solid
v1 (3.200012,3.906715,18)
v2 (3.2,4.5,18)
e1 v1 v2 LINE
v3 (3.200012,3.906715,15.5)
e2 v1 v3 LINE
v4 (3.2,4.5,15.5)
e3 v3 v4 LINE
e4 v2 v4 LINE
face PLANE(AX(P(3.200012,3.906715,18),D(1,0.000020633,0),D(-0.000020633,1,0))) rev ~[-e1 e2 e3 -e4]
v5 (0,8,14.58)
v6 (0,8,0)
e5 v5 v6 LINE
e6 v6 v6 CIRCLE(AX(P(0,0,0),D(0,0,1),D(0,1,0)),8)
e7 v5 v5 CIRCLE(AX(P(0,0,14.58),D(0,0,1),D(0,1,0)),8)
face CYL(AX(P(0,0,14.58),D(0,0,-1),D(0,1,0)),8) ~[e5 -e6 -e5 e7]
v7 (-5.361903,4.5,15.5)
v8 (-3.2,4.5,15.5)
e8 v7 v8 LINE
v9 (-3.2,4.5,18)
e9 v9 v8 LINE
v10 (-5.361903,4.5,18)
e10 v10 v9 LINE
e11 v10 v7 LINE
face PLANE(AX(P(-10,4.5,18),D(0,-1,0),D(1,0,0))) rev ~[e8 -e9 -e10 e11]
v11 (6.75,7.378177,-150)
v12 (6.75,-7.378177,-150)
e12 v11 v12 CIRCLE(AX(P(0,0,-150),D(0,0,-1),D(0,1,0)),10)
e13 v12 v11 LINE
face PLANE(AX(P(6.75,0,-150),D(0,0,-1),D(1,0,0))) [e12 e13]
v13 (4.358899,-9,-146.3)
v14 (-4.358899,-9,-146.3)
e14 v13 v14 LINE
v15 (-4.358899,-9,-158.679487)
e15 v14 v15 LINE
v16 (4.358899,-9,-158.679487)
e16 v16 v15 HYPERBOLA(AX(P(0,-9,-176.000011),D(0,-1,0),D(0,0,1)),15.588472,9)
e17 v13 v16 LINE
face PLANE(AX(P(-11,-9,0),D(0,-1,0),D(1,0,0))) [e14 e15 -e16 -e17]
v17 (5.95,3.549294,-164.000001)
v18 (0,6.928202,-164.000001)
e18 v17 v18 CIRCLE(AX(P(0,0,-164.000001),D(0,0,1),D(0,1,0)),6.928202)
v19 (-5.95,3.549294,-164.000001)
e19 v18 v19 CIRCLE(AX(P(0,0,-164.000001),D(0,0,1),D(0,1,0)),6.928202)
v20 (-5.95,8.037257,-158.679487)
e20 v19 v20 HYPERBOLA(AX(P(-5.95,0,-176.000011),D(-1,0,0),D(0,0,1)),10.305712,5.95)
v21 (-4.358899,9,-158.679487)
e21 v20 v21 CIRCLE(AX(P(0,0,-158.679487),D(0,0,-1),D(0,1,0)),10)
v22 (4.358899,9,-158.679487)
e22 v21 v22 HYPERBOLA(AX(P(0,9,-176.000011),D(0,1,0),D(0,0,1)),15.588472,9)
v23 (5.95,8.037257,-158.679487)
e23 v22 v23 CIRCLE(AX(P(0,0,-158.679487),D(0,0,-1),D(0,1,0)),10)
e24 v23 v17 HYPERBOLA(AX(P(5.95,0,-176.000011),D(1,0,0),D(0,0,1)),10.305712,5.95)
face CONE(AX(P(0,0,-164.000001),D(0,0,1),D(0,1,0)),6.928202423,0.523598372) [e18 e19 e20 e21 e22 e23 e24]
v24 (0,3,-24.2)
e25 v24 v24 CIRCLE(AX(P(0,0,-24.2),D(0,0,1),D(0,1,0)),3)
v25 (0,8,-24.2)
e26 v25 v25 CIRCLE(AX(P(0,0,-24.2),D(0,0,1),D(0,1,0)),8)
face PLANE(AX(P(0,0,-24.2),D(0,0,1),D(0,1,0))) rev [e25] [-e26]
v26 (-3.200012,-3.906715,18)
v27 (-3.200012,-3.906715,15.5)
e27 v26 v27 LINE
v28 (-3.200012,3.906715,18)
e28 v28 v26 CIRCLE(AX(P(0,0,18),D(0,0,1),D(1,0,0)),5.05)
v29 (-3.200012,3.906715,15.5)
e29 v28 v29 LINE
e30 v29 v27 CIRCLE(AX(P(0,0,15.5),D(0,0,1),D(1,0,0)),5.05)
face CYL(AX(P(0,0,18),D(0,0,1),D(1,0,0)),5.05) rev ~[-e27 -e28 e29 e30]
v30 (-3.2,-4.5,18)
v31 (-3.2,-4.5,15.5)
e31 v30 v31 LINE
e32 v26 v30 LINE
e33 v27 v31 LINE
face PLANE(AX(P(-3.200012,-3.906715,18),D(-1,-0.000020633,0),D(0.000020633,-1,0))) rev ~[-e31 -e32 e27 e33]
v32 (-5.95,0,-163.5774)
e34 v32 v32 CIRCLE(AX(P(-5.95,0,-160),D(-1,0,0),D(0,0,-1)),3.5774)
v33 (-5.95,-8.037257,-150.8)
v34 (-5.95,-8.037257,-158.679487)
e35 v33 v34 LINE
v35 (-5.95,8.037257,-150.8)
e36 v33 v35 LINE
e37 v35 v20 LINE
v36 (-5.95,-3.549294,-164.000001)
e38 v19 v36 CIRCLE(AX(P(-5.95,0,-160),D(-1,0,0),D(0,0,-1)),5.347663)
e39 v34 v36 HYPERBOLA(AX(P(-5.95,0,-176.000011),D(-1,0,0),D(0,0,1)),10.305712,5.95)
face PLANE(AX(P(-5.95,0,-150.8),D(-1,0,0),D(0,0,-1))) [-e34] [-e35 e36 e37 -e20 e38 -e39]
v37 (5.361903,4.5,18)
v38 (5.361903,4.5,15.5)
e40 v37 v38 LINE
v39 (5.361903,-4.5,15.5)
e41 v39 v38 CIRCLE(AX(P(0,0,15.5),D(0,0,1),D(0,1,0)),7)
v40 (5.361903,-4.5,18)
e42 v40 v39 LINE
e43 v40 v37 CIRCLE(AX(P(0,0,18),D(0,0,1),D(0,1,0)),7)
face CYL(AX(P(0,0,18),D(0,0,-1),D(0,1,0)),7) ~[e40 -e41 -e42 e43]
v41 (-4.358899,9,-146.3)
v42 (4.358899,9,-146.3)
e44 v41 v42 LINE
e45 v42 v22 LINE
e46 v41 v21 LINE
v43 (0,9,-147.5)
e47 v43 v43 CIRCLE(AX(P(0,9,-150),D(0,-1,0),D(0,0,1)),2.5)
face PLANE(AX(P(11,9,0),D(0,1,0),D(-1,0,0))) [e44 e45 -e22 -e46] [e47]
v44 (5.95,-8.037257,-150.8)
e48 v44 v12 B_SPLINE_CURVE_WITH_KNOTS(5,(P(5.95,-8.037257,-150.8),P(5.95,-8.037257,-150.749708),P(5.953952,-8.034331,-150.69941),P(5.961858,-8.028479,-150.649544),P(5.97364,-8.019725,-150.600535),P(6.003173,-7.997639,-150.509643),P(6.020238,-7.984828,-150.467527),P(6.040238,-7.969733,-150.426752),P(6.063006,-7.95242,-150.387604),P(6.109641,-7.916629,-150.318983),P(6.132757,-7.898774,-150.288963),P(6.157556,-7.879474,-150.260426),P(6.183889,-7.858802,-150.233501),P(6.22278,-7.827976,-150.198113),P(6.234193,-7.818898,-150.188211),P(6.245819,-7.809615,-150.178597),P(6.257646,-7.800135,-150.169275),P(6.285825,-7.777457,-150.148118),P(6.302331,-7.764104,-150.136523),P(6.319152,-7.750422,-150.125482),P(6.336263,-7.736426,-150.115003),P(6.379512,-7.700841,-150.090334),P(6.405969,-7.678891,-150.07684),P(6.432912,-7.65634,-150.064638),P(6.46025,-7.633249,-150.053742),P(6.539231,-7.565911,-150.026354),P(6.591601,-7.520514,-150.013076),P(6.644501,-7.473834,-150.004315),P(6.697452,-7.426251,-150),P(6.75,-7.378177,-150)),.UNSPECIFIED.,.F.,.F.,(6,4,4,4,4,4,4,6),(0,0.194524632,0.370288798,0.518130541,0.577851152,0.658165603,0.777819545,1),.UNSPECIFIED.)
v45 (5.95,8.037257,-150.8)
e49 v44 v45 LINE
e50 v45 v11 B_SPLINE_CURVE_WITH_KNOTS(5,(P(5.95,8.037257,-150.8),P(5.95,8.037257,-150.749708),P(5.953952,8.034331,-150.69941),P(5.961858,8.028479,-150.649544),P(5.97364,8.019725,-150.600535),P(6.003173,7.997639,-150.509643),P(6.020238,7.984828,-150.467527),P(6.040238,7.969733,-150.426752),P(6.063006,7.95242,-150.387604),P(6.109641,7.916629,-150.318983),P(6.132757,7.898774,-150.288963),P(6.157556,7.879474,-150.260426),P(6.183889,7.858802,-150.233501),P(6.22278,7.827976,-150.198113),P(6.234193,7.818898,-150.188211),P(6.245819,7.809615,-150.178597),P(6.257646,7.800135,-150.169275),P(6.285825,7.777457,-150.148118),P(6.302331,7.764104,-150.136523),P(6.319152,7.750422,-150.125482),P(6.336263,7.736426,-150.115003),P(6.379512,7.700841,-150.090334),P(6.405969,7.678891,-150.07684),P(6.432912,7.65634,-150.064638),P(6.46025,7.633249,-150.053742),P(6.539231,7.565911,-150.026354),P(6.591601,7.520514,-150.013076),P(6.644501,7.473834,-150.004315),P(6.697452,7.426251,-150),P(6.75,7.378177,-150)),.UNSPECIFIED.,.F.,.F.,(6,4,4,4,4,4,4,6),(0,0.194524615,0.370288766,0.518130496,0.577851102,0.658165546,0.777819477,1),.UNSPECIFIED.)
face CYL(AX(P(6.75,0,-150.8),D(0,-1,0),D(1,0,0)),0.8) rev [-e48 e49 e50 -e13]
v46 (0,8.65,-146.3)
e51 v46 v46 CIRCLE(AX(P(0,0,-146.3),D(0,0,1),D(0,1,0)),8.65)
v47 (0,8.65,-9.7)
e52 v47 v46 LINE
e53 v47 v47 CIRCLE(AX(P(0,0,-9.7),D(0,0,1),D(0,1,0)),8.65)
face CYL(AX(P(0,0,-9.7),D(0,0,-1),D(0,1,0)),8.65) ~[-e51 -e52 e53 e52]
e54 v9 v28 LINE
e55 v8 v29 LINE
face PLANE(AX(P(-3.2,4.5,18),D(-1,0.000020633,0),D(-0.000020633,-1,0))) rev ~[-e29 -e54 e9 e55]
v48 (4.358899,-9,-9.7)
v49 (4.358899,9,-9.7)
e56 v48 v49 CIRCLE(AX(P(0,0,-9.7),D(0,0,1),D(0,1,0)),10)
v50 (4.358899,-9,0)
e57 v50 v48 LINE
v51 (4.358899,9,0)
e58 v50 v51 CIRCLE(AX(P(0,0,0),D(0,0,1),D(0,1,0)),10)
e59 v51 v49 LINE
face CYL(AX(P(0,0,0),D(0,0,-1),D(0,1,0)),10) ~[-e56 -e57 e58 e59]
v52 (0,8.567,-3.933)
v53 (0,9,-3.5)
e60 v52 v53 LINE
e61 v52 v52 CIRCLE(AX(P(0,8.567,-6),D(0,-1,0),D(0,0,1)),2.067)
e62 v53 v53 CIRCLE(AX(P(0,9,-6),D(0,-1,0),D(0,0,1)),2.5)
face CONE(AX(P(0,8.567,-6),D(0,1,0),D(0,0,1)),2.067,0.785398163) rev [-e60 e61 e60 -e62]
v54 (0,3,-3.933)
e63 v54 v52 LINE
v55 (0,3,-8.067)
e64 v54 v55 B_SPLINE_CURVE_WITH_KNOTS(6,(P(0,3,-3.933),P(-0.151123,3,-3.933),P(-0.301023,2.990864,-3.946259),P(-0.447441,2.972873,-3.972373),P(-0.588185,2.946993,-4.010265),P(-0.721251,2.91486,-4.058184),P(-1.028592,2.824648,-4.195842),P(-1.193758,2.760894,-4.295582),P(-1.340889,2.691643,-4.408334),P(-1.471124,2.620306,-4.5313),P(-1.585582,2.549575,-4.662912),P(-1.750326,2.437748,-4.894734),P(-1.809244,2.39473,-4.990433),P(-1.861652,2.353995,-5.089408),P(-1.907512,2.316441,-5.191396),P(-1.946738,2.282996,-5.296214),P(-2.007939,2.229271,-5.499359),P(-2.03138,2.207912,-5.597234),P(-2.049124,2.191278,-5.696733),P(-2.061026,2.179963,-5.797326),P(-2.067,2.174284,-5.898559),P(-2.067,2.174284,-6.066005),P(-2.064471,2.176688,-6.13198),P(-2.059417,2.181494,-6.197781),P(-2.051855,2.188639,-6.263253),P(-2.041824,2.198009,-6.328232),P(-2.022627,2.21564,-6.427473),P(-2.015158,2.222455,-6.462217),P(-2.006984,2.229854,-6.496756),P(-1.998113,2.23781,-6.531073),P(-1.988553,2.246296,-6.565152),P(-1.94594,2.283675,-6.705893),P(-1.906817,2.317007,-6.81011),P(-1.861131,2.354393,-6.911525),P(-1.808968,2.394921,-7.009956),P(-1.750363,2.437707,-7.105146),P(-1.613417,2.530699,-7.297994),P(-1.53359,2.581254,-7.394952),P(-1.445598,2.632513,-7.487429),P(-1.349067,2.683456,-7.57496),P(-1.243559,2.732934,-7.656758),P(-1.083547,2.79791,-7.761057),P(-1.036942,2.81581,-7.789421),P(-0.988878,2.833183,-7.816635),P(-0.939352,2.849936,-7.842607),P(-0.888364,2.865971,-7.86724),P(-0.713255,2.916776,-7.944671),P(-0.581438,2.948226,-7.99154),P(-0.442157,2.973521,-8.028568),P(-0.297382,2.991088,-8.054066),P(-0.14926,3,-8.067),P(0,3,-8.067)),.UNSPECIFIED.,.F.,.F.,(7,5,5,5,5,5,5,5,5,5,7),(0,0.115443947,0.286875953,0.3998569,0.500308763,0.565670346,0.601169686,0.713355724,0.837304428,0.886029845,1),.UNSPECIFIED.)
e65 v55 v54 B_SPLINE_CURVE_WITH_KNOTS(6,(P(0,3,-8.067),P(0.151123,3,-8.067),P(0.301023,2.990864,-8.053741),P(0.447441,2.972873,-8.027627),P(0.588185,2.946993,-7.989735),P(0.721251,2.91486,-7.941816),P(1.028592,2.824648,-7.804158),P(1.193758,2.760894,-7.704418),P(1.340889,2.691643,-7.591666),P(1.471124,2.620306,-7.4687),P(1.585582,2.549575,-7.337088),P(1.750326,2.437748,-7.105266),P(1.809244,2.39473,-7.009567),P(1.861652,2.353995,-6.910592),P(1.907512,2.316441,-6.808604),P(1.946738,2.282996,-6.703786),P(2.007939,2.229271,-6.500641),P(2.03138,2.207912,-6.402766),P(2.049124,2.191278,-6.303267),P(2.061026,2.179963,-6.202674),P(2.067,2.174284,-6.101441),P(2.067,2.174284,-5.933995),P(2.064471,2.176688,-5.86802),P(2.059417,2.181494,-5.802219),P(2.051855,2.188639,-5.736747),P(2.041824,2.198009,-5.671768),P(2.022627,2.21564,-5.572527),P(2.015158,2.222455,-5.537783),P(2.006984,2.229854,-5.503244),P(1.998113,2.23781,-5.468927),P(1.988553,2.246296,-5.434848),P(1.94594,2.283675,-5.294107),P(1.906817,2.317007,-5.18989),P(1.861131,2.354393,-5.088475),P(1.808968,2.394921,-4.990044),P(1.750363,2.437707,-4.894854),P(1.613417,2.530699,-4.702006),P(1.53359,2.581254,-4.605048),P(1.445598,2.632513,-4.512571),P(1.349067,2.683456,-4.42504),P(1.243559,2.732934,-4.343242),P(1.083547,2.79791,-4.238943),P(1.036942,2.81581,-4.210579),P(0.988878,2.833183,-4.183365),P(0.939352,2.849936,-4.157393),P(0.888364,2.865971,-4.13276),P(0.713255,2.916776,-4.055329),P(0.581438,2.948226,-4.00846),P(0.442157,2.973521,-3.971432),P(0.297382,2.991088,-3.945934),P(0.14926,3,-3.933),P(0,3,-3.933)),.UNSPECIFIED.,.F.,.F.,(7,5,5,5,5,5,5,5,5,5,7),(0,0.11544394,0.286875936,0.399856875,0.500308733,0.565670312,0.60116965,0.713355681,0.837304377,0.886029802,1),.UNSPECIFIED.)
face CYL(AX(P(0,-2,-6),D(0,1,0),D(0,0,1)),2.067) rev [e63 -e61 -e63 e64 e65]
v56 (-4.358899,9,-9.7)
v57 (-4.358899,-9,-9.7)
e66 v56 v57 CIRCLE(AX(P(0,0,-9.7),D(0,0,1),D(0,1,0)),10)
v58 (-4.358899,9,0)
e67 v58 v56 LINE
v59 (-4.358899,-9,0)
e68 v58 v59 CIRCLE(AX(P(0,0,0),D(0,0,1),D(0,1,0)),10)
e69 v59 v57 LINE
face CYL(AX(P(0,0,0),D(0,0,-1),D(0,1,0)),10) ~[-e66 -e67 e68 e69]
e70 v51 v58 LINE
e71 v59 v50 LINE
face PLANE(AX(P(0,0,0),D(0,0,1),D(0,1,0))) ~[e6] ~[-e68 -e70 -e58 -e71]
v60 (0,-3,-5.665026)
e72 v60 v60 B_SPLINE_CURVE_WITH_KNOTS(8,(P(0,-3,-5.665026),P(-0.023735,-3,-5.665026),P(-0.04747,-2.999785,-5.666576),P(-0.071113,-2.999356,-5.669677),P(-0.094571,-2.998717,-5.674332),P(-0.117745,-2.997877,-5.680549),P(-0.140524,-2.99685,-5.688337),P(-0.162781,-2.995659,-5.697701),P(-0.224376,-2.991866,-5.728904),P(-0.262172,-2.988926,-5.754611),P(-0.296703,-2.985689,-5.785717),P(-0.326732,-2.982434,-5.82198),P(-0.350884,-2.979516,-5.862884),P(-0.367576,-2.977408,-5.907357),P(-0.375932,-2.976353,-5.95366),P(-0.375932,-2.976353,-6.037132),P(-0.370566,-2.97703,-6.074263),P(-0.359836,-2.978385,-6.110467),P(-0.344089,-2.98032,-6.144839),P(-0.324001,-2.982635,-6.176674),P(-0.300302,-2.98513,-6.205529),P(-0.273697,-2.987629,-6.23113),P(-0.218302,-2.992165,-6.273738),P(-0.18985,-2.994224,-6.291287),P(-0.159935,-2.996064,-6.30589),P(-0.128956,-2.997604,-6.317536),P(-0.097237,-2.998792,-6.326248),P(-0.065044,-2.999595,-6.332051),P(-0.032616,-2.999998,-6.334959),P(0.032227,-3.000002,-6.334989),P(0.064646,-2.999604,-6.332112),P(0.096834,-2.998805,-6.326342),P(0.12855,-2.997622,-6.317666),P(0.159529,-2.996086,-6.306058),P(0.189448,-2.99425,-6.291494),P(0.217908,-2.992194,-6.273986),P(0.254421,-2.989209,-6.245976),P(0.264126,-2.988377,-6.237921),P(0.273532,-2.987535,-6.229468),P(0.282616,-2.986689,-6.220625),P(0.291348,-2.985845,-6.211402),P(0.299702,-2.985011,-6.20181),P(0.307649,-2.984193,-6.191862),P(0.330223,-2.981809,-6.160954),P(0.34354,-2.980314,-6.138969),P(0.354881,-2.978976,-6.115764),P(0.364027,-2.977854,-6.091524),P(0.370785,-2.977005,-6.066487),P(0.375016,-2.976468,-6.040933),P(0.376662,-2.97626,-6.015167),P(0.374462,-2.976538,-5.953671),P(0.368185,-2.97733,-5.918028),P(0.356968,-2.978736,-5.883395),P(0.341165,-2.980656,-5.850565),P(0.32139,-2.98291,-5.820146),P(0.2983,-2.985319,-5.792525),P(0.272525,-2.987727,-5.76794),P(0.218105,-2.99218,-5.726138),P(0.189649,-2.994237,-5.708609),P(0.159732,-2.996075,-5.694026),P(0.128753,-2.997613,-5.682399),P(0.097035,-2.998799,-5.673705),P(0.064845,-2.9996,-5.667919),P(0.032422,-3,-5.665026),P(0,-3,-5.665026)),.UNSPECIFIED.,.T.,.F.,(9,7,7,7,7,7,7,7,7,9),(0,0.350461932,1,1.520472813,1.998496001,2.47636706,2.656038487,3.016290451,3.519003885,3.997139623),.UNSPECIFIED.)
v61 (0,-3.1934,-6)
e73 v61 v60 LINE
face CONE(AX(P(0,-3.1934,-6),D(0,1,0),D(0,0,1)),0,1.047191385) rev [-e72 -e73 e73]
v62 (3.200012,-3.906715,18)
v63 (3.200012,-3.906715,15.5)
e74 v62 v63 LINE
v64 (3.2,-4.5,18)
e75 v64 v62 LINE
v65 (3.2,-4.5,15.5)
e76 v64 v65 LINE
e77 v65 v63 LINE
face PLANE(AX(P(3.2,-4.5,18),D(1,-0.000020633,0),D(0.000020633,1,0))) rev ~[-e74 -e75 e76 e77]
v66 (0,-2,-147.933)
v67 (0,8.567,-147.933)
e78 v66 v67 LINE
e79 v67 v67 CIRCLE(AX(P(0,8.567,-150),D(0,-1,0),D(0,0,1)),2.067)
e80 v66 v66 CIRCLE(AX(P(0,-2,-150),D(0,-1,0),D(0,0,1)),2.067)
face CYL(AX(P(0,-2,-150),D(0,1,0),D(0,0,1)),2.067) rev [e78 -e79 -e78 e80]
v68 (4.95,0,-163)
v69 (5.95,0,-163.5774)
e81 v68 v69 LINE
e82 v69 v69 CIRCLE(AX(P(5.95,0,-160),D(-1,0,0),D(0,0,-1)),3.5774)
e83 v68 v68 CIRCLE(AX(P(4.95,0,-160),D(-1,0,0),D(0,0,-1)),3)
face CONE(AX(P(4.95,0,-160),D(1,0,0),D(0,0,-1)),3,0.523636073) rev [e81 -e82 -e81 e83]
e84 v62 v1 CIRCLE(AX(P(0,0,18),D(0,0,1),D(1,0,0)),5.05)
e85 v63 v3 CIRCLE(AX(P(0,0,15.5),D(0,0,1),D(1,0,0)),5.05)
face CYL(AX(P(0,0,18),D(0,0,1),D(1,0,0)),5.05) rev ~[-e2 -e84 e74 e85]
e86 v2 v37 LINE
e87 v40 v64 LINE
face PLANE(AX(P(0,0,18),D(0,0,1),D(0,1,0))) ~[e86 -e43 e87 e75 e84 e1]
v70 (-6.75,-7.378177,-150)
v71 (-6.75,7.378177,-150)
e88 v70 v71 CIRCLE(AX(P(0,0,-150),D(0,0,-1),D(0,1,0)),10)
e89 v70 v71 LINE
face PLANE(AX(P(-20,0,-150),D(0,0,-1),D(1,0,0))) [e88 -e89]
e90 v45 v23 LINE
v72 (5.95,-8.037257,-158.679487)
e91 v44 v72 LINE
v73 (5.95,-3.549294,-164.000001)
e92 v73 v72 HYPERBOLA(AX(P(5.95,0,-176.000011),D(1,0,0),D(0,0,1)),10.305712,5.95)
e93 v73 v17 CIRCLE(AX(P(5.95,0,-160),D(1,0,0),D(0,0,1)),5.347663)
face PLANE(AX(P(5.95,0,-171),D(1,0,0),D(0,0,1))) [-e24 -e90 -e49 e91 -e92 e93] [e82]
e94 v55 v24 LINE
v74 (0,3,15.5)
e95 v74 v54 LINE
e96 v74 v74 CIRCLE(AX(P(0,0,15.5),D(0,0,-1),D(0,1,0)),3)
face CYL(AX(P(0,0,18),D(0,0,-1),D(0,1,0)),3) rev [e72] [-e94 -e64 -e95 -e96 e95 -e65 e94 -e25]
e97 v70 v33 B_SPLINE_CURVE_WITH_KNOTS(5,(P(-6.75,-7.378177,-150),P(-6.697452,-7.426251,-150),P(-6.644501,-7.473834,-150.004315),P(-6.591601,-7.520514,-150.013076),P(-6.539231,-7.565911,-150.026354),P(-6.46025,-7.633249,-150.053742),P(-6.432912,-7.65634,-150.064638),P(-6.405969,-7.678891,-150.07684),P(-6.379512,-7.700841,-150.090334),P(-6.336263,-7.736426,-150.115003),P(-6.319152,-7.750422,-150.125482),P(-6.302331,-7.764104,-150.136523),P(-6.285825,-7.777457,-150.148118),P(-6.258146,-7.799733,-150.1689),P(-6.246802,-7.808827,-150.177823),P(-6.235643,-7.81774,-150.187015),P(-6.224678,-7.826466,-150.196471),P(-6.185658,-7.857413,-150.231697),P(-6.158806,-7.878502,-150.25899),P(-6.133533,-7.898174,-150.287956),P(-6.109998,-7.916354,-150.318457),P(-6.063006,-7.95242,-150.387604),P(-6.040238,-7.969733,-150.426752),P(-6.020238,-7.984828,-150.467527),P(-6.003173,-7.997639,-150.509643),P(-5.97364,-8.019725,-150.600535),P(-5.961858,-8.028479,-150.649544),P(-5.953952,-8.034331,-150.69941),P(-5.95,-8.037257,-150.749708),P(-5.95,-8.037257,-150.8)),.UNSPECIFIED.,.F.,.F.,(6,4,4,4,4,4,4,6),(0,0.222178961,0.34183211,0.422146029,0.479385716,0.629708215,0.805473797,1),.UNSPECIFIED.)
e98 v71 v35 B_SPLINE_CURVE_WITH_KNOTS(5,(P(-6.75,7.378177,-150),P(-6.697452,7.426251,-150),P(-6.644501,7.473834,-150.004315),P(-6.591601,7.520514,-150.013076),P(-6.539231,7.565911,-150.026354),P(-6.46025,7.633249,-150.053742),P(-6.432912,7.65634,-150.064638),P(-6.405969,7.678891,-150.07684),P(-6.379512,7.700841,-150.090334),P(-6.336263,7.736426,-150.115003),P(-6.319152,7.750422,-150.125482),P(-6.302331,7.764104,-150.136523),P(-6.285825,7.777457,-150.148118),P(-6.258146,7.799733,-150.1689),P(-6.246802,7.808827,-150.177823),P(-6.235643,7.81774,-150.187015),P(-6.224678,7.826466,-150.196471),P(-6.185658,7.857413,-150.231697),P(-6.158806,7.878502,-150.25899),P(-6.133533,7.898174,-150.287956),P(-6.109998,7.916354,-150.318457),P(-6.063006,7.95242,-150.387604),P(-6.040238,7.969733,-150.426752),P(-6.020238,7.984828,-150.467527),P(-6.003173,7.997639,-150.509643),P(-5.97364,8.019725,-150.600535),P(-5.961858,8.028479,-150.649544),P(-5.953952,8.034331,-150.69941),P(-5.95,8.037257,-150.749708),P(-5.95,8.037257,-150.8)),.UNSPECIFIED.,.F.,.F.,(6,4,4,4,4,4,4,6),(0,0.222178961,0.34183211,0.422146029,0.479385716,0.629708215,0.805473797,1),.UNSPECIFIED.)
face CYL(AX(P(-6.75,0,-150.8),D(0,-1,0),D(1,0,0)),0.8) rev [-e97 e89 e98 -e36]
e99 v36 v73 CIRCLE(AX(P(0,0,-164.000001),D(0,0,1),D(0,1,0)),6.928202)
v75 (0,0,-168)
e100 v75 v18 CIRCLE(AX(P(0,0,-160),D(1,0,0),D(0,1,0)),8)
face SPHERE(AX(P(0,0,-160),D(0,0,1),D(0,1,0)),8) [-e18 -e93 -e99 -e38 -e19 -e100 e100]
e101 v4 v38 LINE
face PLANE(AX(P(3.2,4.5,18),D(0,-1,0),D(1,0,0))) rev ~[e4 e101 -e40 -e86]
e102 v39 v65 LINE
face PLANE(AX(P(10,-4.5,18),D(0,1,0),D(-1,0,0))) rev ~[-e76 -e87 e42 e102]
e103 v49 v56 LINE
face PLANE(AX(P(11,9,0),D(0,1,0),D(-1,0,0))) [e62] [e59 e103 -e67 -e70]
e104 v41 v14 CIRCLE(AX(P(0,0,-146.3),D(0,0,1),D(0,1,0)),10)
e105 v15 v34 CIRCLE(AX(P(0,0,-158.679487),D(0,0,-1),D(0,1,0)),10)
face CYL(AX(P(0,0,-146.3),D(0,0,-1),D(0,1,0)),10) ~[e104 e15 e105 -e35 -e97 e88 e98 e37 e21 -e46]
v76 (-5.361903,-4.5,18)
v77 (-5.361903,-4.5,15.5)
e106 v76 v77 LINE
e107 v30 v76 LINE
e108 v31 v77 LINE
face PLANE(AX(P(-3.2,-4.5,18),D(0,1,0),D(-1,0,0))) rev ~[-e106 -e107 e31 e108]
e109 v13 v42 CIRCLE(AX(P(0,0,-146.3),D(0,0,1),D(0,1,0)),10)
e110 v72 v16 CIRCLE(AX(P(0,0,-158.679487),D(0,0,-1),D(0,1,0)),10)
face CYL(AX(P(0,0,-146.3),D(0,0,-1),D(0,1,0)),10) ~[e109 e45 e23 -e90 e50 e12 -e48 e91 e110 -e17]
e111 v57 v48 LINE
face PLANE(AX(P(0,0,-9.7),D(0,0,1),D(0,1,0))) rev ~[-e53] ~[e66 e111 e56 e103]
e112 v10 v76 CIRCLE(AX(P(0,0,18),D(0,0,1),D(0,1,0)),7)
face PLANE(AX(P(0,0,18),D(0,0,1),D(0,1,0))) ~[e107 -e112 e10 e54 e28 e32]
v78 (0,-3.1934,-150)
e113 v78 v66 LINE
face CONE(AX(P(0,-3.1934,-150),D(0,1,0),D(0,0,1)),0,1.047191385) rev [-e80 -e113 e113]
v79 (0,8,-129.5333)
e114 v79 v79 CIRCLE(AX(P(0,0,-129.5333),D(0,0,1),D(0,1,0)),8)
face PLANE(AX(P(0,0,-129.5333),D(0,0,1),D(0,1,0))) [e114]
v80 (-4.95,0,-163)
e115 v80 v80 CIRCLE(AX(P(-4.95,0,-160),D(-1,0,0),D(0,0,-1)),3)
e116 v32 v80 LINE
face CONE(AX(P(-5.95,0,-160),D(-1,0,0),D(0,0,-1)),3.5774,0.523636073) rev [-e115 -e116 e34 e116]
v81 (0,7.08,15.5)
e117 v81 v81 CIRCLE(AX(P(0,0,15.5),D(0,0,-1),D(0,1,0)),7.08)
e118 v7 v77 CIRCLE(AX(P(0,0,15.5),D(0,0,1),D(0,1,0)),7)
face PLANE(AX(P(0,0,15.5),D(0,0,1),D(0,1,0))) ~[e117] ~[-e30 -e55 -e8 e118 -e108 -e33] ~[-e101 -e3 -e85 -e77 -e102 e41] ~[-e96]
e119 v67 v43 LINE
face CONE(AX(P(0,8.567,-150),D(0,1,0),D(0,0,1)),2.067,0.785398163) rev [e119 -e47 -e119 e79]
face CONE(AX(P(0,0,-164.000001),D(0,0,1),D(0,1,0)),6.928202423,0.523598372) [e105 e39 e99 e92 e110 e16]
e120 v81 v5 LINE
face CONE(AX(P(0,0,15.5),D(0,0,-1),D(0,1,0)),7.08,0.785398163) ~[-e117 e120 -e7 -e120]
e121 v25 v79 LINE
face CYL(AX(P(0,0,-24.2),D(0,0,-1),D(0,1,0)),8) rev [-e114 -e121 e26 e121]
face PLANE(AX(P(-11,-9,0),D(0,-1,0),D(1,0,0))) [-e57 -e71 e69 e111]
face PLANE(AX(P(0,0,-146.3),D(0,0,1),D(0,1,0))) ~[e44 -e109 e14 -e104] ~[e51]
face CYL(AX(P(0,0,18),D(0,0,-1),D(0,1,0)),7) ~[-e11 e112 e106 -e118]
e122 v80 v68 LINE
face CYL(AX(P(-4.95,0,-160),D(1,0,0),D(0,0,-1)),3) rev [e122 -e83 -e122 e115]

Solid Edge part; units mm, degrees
sketch "Sketch1" plane through (0, 0, 0) normal (1, 0, 0) x (0, 1, 0)
  line L0 (0, 0) -> (10, 0)
  line L1 (10, 0) -> (10, -9.7)
  line L2 (10, -9.7) -> (8.65, -9.7)
  line L3 (8.65, -9.7) -> (8.65, -146.3)
  line L4 (8.65, -146.3) -> (10, -146.3)
  line L5 (10, -146.3) -> (10, -168)
  line L6 (10, -168) -> (0, -168)
  line L7 (0, -168) -> (0, 0)
revolve "RevolvedProtrusion1" add sketch "Sketch1" angle 360 about axis through (0, 0, -168) along (0, 0, 1)
sketch "Sketch2" plane through (0, 0, 0) normal (1, 0, 0) x (0, 1, 0)
  arc A0 (0, -168) -> (6.9282, -164) centre (0, -160) ccw
  line L0 (6.9282, -164) -> (13.8564, -152)
  line L1 (13.8564, -152) -> (17, -152)
  line L2 (17, -152) -> (17, -169)
  line L3 (17, -169) -> (0, -169)
  line L4 (0, -169) -> (0, -168)
revolve "RevolvedCutout1" cut sketch "Sketch2" angle 360 about axis through (0, 0, -169) along (0, 0, 1)
sketch "Sketch3" plane through (0, 0, 0) normal (0, -1, 0) x (1, 0, 0)
  line L0 (-20, -173) -> (-20, -150)
  line L1 (-20, -150) -> (-6.75, -150)
  arc A0 (-6.75, -150) -> (-5.95, -150.8) centre (-6.75, -150.8) cw
  line L2 (-5.95, -150.8) -> (-5.95, -171)
  line L3 (-5.95, -171) -> (5.95, -171)
  line L4 (5.95, -171) -> (5.95, -150.8)
  arc A1 (5.95, -150.8) -> (6.75, -150) centre (6.75, -150.8) cw
  line L5 (6.75, -150) -> (20, -150)
  line L6 (20, -150) -> (20, -173)
  line L7 (20, -173) -> (-20, -173)
extrude "ExtrudedCutout_1" cut sketch "Sketch3" against normal blind 10 and the other way blind 10
sketch "Sketch4" plane through (0, 0, 0) normal (0, 0, 1) x (1, 0, 0)
  line L0 (-12, -12) -> (12, -12)
  line L1 (12, -12) -> (12, 12)
  line L2 (12, 12) -> (-12, 12)
  line L3 (-12, 12) -> (-12, -12)
  line L4 (-11, -9) -> (11, -9)
  line L5 (11, -9) -> (11, 9)
  line L6 (11, 9) -> (-11, 9)
  line L7 (-11, 9) -> (-11, -9)
extrude "ExtrudedCutout_2" cut sketch "Sketch4" against normal blind 168
sketch "Sketch5" plane through (0, 0, 0) normal (0, -1, 0) x (1, 0, 0)
  line L0 (-5.95, -160) -> (-5.95, -163.5774)
  line L1 (-5.95, -163.5774) -> (-4.95, -163)
  line L2 (-4.95, -163) -> (4.95, -163)
  line L3 (4.95, -163) -> (5.95, -163.5774)
  line L4 (5.95, -163.5774) -> (5.95, -160)
  line L5 (5.95, -160) -> (-5.95, -160)
revolve "RevolvedCutout2" cut sketch "Sketch5" angle 360 about axis through (5.95, 0, -160) along (-1, 0, 0)
sketch "Sketch6" plane through (0, 0, 0) normal (1, 0, 0) x (0, 1, 0)
  line L0 (-3.1934, -150) -> (-2, -147.933)
  line L1 (-2, -147.933) -> (8.567, -147.933)
  line L2 (8.567, -147.933) -> (9, -147.5)
  line L3 (9, -147.5) -> (9, -150)
  line L4 (9, -150) -> (-3.1934, -150)
revolve "RevolvedCutout3" cut sketch "Sketch6" angle 360 about axis through (0, 9, -150) along (0, -1, 0)
sketch "Sketch7" plane through (0, 0, 0) normal (1, 0, 0) x (0, 1, 0)
  line L0 (-3.1934, -6) -> (-2, -3.933)
  line L1 (-2, -3.933) -> (8.567, -3.933)
  line L2 (8.567, -3.933) -> (9, -3.5)
  line L3 (9, -3.5) -> (9, -6)
  line L4 (9, -6) -> (-3.1934, -6)
revolve "RevolvedCutout4" cut sketch "Sketch7" angle 360 about axis through (0, 9, -6) along (0, -1, 0)
sketch "Sketch8" plane through (0, 0, 0) normal (1, 0, 0) x (0, 1, 0)
  line L0 (0, 18) -> (7, 18)
  line L1 (7, 18) -> (7, 15.5)
  line L2 (7, 15.5) -> (7.08, 15.5)
  line L3 (7.08, 15.5) -> (8, 14.58)
  line L4 (8, 14.58) -> (8, 0)
  line L5 (8, 0) -> (0, 0)
  line L6 (0, 0) -> (0, 18)
revolve "RevolvedProtrusion2" add sketch "Sketch8" angle 360 about axis through (0, 0, 0) along (0, 0, 1)
sketch "Sketch9" plane through (0, 0, 18) normal (0, 0, 1) x (1, 0, 0)
  line L0 (-10, -4.5) -> (-10, -10)
  line L1 (-10, -10) -> (10, -10)
  line L2 (10, -10) -> (10, -4.5)
  line L3 (10, -4.5) -> (3.2, -4.5)
  line L4 (3.2, -4.5) -> (3.2, -3.9067)
  arc A0 (3.2, -3.9067) -> (3.2, 3.9067) centre (0, 0) ccw
  line L5 (3.2, 3.9067) -> (3.2, 4.5)
  line L6 (3.2, 4.5) -> (10, 4.5)
  line L7 (10, 4.5) -> (10, 10)
  line L8 (10, 10) -> (-10, 10)
  line L9 (-10, 10) -> (-10, 4.5)
  line L10 (-10, 4.5) -> (-3.2, 4.5)
  line L11 (-3.2, 4.5) -> (-3.2, 3.9067)
  arc A1 (-3.2, 3.9067) -> (-3.2, -3.9067) centre (0, 0) ccw
  line L12 (-3.2, -3.9067) -> (-3.2, -4.5)
  line L13 (-3.2, -4.5) -> (-10, -4.5)
extrude "ExtrudedCutout_3" cut sketch "Sketch9" against normal blind 2.5
sketch "Sketch10" plane through (0, 0, 0) normal (1, 0, 0) x (0, 1, 0)
  line L0 (0, 18) -> (3, 18)
  line L1 (3, 18) -> (3, -24.2)
  line L2 (3, -24.2) -> (8, -24.2)
  line L3 (8, -24.2) -> (8, -129.5333)
  line L4 (8, -129.5333) -> (0, -129.5333)
  line L5 (0, -129.5333) -> (0, 18)
revolve "RevolvedCutout5" cut sketch "Sketch10" angle 360 about axis through (0, 0, -129.5333) along (0, 0, 1)
properties part number "BumbleB0480"
